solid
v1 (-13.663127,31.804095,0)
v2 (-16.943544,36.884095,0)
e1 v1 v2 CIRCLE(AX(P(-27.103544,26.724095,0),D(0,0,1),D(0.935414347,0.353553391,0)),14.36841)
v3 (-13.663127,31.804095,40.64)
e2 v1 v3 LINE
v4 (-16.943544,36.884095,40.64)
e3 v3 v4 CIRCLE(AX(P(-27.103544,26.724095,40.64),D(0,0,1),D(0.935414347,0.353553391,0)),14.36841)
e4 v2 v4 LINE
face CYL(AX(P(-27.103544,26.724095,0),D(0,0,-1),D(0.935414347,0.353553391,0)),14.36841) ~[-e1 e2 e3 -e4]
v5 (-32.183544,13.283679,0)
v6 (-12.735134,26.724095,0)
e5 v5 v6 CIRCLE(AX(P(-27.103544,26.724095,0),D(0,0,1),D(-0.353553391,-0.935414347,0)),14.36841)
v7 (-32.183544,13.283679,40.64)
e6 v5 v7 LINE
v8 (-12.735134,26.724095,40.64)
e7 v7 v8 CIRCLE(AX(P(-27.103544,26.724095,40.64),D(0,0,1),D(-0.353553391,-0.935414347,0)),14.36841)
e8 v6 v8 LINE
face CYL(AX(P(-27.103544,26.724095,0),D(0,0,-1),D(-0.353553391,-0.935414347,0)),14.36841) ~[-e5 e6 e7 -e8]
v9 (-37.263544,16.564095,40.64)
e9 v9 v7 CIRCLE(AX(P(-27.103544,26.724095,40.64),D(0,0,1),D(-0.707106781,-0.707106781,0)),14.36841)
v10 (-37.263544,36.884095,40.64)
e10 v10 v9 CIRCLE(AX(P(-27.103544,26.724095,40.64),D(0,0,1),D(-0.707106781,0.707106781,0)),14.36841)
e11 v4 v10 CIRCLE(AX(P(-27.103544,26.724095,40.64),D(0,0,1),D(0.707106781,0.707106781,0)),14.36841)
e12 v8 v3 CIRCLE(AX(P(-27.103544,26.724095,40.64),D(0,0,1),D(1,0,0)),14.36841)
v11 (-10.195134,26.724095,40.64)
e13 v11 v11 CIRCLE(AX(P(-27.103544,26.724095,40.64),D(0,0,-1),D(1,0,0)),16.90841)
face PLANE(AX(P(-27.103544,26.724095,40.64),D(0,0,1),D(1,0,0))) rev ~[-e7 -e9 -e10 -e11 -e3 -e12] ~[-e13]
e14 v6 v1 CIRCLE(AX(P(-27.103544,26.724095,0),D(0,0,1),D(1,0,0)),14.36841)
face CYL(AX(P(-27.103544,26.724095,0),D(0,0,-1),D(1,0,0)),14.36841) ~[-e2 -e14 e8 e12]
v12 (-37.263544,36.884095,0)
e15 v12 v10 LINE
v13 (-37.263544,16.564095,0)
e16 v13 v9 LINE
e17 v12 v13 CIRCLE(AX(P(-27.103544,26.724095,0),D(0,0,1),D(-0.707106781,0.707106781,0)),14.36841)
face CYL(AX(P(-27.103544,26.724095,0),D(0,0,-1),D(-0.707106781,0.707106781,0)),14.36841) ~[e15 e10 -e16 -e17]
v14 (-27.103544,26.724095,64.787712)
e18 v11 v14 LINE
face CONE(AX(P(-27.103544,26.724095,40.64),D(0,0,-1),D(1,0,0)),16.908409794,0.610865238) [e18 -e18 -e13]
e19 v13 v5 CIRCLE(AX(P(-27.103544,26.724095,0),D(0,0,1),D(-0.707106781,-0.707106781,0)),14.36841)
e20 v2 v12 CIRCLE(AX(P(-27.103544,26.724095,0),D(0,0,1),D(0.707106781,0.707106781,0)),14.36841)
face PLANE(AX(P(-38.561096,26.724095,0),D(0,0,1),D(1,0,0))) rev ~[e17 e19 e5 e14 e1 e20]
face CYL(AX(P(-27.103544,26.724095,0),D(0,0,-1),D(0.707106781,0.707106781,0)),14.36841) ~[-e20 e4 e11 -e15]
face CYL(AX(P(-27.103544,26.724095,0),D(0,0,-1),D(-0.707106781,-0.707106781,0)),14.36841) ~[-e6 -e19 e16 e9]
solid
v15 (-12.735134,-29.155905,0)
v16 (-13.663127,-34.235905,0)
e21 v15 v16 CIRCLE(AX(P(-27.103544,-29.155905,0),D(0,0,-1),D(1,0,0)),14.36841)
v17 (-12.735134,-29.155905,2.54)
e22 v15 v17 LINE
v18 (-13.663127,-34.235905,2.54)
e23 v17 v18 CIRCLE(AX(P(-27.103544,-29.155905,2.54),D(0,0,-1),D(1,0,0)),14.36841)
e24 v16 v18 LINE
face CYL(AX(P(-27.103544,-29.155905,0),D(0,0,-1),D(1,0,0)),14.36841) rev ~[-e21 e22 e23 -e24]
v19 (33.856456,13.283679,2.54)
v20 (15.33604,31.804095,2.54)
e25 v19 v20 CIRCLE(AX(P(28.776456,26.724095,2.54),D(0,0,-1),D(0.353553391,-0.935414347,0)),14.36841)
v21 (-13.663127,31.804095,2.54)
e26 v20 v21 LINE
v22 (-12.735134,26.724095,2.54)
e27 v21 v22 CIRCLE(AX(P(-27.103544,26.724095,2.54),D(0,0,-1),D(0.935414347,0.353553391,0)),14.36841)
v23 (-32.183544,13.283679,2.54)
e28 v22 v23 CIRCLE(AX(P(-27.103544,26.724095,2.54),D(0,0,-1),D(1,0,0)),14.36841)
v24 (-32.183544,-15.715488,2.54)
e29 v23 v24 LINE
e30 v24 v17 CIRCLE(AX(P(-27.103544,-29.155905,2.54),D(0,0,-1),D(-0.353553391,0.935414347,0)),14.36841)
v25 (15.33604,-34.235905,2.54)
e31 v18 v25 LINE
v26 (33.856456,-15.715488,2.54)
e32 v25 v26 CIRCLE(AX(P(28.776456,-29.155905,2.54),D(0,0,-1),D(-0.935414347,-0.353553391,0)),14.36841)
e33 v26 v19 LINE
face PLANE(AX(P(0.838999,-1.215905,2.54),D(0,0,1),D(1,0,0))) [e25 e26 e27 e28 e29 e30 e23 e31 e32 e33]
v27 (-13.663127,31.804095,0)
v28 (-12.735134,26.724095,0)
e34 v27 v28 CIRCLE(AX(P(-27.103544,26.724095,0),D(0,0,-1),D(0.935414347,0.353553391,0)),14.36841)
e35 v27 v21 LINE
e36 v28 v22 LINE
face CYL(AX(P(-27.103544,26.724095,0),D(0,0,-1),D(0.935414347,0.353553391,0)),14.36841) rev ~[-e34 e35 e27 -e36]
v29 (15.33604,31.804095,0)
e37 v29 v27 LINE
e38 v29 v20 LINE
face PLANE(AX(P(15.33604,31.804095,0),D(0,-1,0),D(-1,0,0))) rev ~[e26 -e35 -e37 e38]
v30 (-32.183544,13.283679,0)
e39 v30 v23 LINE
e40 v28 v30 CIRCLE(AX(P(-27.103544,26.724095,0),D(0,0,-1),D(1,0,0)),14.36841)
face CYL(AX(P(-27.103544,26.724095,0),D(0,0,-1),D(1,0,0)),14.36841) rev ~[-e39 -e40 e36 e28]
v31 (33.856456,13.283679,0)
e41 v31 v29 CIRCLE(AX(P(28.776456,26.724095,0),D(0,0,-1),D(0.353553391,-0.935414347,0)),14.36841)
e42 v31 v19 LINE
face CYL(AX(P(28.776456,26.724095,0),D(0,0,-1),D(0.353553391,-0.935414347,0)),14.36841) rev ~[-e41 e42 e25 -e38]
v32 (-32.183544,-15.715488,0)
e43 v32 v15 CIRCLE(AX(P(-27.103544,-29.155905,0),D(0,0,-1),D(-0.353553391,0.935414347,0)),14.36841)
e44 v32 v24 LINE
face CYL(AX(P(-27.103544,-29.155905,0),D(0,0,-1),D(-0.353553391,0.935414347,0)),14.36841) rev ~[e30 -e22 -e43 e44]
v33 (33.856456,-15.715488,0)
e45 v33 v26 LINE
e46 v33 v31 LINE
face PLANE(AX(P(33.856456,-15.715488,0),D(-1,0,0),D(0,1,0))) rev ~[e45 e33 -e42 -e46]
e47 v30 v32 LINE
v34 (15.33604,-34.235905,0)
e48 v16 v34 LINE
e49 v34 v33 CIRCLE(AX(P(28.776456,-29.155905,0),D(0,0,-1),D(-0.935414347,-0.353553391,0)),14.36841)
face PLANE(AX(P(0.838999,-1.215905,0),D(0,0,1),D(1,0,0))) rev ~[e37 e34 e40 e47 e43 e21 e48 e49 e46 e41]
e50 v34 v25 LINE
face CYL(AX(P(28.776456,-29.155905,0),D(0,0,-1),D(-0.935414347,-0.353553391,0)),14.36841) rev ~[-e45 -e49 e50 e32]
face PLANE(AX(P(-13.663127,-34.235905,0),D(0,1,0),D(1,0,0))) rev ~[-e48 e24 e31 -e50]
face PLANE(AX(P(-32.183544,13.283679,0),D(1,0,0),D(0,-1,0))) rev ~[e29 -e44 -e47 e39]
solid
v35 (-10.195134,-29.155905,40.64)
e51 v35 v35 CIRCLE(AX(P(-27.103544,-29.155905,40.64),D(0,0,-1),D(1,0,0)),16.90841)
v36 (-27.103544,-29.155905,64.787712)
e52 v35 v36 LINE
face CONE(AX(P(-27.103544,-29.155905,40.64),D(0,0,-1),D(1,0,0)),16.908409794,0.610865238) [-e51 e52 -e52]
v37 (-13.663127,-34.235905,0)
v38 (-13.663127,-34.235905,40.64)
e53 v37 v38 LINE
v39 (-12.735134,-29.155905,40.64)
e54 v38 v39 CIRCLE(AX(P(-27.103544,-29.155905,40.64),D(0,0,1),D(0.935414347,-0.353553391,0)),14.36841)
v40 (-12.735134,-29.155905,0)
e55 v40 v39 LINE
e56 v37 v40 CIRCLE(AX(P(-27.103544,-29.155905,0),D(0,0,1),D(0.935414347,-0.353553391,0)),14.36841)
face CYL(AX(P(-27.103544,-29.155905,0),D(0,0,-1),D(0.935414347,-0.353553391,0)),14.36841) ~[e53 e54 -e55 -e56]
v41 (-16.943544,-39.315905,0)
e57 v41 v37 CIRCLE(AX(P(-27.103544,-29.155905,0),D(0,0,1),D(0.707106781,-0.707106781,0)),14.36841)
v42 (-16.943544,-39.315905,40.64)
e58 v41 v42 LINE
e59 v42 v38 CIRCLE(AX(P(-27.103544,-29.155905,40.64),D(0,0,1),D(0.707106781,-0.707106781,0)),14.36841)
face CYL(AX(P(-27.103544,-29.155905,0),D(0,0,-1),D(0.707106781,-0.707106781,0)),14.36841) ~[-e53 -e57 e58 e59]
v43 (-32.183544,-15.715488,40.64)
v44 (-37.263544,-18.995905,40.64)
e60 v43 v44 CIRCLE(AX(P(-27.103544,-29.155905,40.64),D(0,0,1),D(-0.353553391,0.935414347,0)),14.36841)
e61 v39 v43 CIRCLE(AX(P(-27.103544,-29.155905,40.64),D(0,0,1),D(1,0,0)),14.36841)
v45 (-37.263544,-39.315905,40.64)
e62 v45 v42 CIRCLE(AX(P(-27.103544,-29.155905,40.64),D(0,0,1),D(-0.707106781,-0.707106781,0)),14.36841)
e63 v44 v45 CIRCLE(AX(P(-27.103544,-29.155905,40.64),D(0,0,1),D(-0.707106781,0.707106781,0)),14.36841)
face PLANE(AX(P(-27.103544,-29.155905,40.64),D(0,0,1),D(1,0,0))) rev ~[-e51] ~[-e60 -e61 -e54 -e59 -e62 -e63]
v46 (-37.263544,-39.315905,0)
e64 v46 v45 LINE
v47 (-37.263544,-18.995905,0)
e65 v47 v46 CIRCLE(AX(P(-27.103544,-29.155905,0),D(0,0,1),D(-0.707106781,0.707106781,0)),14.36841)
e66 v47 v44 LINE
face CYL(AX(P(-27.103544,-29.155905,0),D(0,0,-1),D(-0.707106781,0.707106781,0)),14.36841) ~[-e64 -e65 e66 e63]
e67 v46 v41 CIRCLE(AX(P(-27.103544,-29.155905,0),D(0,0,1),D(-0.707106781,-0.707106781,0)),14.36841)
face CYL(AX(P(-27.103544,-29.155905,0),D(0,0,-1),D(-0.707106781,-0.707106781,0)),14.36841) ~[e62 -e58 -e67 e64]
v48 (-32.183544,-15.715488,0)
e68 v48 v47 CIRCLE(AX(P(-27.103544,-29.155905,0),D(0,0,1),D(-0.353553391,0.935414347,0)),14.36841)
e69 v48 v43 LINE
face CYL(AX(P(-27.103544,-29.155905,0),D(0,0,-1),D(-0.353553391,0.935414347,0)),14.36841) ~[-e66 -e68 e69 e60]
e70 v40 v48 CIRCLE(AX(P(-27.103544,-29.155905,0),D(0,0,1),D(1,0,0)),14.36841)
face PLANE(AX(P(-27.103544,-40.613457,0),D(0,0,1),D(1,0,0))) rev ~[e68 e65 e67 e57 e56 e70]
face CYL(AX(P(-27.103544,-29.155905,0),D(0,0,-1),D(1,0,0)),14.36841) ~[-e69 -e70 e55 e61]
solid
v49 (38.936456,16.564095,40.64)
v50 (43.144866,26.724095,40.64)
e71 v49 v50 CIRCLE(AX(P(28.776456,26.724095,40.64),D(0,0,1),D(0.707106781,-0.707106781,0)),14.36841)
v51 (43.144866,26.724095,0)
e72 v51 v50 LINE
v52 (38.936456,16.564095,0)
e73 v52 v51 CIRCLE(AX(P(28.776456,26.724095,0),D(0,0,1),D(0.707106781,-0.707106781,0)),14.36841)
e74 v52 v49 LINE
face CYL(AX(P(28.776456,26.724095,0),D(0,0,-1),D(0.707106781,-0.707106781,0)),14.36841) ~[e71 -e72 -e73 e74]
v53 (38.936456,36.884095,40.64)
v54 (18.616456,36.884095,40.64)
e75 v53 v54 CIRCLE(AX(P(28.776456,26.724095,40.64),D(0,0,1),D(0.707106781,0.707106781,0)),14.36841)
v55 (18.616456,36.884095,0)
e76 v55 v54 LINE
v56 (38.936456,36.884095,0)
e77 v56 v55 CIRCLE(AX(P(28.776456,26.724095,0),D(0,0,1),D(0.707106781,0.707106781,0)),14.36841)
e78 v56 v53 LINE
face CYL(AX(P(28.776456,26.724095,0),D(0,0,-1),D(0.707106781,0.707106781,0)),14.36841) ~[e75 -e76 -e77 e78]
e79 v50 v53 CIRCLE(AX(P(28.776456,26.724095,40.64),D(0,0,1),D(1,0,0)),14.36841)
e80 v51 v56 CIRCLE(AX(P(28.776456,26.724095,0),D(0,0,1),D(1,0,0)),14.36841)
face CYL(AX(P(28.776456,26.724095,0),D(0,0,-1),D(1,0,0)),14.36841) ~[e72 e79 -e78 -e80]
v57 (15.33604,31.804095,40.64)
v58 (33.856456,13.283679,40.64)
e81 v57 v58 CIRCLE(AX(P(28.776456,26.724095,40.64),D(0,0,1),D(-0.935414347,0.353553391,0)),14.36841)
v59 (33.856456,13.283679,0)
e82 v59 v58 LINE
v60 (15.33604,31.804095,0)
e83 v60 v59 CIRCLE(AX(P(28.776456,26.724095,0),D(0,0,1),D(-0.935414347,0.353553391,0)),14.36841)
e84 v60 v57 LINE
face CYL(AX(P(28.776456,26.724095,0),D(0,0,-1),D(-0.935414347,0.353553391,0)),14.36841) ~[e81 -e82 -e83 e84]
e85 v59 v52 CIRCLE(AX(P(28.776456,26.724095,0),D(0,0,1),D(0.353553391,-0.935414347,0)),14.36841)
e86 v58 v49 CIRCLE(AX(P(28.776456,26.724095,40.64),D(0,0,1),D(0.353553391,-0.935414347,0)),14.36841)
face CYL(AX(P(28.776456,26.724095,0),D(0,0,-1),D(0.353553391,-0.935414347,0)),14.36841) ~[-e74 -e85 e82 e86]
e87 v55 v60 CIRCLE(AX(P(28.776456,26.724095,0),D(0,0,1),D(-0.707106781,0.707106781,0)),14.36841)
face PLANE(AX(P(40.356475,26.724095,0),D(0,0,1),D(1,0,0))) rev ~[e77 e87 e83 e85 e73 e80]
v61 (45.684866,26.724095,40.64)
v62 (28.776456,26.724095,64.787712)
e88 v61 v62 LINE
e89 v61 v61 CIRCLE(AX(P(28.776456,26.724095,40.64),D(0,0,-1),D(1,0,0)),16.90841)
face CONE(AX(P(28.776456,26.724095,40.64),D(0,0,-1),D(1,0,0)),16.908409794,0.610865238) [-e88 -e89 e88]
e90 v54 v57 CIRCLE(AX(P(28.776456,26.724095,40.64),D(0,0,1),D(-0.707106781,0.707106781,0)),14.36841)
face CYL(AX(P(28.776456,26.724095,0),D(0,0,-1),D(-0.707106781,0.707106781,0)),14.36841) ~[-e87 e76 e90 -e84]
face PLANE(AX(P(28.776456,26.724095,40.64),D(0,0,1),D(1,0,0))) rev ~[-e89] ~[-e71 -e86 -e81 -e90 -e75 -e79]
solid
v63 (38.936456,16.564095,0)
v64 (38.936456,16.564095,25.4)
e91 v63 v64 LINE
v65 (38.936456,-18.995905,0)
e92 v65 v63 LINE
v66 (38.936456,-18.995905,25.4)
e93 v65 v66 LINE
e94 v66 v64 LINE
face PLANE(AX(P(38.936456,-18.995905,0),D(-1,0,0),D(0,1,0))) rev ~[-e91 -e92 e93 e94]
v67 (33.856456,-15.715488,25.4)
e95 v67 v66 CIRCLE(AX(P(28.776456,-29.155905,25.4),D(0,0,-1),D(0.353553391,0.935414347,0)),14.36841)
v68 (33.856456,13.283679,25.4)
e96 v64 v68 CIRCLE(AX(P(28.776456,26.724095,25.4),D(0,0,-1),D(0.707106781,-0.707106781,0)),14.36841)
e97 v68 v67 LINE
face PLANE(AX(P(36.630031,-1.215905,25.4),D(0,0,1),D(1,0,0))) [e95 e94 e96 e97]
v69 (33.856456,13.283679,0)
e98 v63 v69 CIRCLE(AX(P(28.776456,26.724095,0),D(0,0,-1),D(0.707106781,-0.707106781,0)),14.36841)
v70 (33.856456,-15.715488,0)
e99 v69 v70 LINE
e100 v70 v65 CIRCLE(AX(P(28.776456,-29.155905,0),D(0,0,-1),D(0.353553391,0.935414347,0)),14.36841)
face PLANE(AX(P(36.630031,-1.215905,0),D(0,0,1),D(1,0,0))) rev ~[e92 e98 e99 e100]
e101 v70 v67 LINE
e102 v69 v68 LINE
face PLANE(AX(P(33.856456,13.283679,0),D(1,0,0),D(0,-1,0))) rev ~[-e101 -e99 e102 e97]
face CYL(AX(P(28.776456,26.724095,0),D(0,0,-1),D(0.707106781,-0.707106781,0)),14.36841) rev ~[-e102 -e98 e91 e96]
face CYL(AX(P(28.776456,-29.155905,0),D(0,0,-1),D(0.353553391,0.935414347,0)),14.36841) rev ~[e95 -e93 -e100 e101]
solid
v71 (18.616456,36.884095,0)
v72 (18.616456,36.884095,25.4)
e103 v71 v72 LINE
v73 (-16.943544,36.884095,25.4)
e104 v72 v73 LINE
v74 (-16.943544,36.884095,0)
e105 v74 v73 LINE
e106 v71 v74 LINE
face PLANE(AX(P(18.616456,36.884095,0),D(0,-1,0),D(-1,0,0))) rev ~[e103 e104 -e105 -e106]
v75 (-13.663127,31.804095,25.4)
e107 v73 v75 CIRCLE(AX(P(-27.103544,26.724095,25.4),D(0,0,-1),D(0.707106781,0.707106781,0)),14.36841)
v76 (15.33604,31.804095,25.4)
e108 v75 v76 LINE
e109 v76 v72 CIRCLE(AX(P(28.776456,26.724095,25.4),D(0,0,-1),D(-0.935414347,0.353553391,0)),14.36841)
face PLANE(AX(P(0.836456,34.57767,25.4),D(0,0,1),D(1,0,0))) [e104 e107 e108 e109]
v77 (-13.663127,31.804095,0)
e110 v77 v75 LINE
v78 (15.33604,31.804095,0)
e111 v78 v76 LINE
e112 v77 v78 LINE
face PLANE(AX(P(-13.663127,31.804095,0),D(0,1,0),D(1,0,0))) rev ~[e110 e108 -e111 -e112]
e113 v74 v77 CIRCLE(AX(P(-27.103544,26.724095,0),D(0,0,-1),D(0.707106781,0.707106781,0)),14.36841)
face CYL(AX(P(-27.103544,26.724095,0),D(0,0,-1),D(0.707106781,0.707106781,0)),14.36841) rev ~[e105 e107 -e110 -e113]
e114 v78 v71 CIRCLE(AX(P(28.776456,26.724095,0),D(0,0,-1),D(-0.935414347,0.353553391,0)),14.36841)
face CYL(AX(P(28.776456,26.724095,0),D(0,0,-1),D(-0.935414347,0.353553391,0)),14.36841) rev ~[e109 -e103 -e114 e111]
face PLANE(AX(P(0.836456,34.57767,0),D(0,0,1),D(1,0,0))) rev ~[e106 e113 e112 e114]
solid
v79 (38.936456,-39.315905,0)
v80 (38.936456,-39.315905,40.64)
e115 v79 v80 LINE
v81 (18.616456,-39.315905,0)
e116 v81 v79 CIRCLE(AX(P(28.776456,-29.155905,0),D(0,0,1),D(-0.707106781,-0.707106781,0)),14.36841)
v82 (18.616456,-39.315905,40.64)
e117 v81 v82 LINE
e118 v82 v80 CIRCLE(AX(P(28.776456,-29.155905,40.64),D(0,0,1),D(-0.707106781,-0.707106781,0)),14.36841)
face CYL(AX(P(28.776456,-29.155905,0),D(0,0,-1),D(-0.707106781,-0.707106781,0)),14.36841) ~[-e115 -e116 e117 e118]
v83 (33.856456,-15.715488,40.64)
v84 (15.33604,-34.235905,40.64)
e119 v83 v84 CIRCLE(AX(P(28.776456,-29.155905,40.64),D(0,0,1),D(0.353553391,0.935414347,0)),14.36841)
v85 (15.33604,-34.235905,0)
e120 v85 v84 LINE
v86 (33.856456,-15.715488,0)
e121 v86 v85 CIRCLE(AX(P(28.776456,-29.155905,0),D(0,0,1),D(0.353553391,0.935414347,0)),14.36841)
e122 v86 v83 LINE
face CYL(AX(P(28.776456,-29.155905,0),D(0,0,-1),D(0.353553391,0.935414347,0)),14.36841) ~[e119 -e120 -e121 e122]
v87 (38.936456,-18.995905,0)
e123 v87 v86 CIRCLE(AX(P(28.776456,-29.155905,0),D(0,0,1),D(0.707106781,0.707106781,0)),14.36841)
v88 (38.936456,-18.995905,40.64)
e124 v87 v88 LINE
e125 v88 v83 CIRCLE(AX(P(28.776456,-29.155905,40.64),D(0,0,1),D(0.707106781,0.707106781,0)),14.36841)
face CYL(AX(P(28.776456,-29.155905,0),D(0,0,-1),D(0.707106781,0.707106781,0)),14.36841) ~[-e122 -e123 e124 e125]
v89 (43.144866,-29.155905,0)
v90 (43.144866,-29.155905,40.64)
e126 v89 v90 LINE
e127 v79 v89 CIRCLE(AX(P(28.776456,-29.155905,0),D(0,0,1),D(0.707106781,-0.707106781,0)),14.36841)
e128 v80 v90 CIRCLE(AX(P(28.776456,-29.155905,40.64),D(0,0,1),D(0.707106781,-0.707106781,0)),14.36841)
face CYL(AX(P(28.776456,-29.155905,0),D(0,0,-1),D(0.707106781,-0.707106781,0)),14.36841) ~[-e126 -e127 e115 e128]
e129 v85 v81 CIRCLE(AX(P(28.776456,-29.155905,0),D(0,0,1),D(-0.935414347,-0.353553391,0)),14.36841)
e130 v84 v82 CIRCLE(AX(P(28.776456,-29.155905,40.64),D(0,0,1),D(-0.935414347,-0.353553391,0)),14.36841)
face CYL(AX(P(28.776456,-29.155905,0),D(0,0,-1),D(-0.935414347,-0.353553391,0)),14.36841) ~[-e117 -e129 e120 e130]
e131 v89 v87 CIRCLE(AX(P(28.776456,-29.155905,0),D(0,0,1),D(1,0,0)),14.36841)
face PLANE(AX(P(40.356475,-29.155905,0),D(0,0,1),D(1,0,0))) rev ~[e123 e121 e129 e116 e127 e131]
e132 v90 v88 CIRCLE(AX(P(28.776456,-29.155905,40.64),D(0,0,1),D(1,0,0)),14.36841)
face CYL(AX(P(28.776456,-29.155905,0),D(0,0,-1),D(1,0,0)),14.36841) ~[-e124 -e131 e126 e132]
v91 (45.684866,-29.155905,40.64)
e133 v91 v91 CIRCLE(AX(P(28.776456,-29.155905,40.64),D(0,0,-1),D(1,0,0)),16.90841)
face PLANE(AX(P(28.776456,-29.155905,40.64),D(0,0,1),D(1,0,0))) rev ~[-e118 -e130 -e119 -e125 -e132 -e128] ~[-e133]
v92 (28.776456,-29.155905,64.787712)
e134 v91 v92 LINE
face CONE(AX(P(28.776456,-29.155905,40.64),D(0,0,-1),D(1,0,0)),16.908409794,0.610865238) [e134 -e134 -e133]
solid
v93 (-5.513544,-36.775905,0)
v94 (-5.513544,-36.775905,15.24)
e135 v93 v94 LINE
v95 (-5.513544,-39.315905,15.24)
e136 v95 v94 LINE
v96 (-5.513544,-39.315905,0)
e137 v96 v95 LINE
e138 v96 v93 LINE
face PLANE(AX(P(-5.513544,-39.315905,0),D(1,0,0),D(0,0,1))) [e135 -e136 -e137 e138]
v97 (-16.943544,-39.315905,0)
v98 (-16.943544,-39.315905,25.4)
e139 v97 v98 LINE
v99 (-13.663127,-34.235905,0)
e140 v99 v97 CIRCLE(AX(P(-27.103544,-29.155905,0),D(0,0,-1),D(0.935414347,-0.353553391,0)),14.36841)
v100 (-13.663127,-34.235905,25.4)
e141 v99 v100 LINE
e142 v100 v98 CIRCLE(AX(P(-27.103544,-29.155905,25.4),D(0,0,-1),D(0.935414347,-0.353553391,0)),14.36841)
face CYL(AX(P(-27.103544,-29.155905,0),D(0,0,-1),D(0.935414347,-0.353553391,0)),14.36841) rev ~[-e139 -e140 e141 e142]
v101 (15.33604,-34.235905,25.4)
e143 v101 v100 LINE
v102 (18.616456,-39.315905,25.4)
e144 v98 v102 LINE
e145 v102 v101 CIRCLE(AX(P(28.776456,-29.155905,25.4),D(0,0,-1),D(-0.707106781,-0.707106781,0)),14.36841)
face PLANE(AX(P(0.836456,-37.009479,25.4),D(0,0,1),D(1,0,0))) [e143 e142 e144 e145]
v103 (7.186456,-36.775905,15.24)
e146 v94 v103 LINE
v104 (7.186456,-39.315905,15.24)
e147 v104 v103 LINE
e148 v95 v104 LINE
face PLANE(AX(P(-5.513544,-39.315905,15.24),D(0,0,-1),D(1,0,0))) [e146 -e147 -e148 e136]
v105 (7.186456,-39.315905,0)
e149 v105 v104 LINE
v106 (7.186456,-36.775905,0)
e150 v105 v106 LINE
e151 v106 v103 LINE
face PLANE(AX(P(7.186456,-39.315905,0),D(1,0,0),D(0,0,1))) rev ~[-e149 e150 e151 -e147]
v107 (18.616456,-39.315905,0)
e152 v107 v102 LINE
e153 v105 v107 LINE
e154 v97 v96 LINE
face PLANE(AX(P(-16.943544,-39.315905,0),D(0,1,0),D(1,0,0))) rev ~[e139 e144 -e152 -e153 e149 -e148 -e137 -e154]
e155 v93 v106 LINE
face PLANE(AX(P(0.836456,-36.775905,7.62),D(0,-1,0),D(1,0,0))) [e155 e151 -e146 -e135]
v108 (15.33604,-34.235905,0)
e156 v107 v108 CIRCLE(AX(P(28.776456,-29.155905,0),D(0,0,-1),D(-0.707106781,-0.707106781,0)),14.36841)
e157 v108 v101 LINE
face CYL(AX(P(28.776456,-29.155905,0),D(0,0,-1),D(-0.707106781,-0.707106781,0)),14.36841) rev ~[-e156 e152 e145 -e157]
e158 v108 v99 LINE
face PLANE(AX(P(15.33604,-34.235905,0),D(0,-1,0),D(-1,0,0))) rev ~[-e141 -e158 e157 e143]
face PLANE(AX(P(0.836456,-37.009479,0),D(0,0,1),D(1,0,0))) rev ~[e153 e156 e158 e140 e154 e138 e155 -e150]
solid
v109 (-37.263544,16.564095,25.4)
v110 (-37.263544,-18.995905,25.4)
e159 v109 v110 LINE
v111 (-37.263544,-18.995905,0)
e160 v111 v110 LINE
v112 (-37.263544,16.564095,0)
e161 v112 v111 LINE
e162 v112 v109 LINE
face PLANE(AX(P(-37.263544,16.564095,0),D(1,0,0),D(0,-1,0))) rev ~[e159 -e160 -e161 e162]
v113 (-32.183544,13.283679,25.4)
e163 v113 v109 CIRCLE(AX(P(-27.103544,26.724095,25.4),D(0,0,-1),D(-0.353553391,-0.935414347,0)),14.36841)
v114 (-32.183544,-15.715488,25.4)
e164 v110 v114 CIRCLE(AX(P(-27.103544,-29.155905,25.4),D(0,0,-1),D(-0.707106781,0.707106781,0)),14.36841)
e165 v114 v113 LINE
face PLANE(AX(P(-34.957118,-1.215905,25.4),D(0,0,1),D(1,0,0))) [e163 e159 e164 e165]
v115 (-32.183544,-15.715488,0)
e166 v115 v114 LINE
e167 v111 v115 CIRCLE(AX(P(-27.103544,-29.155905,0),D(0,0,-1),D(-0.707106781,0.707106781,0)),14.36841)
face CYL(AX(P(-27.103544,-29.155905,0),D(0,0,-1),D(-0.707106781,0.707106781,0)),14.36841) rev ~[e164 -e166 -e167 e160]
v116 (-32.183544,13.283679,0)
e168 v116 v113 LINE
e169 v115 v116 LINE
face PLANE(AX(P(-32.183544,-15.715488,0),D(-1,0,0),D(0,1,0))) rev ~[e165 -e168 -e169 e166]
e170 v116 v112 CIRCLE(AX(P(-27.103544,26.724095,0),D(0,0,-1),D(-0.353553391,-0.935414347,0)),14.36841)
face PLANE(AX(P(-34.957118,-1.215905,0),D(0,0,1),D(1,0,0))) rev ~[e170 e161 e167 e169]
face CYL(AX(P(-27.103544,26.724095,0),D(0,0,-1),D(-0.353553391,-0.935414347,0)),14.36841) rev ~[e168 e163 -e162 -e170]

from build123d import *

# Parameters (mm, degrees)
F1_DEPTH  = 2.54
F2_DEPTH  = 25.4
F3_DEPTH  = 40.64
F4_R      = 16.9084097937
F5_DEPTH  = 25.4
F5_TAPER  = 35
F6_R      = 16.9084097937
F7_DEPTH  = 25.4
F7_TAPER  = 35
F8_R      = 16.9084097937
F9_DEPTH  = 25.4
F9_TAPER  = 35
F10_R     = 16.9084097937
F11_DEPTH = 25.4
F11_TAPER = 35
F12_W     = 12.7
F12_H     = 15.24
F13_DEPTH = 2.54


with BuildPart() as f1:
    # F0 (on Top) → F1 (new body)
    with BuildSketch(Plane.XY):
        with BuildLine():
            Line((15.3360397668, 31.8040953928), (-13.6631269128, 31.8040953928))
            ThreePointArc((-13.6631269128, 31.8040953928), (-12.969035899, 29.3061280832), (-12.7351337793, 26.7240953928))
            ThreePointArc((-12.7351337793, 26.7240953928), (-18.9347101726, 14.9037163432), (-32.183543573, 13.2836787326))
            Line((-32.183543573, 13.2836787326), (-32.183543573, -15.715487947))
            ThreePointArc((-32.183543573, -15.715487947), (-18.9347101726, -17.3355255576), (-12.7351337793, -29.1559046072))
            ThreePointArc((-12.7351337793, -29.1559046072), (-12.969035899, -31.7379372975), (-13.6631269128, -34.2359046072))
            Line((-13.6631269128, -34.2359046072), (15.3360397668, -34.2359046072))
            ThreePointArc((15.3360397668, -34.2359046072), (18.616456427, -18.9959046072), (33.856456427, -15.715487947))
            Line((33.856456427, -15.715487947), (33.856456427, 13.2836787326))
            ThreePointArc((33.856456427, 13.2836787326), (18.616456427, 16.5640953928), (15.3360397668, 31.8040953928))
        make_face()
    extrude(amount=F1_DEPTH)


with BuildPart() as f2:
    # F0 (on Top) → F2 (new body)
    with BuildSketch(Plane.XY):
        with BuildLine():
            Line((38.936456427, -18.9959046072), (38.936456427, 16.5640953928))
            ThreePointArc((38.936456427, 16.5640953928), (36.5709854933, 14.6536141831), (33.856456427, 13.2836787326))
            Line((33.856456427, 13.2836787326), (33.856456427, -15.715487947))
            ThreePointArc((33.856456427, -15.715487947), (36.5709854933, -17.0854233975), (38.936456427, -18.9959046072))
        make_face()
    extrude(amount=F2_DEPTH)


with BuildPart() as f2b:
    # F0 (on Top) → F2, piece 2 (new body)
    with BuildSketch(Plane.XY):
        with BuildLine():
            ThreePointArc((-13.6631269128, -34.2359046072), (-15.0330623633, -36.9504336735), (-16.943543573, -39.3159046072))
            Line((-16.943543573, -39.3159046072), (18.616456427, -39.3159046072))
            ThreePointArc((18.616456427, -39.3159046072), (16.7059752173, -36.9504336735), (15.3360397668, -34.2359046072))
            Line((15.3360397668, -34.2359046072), (-13.6631269128, -34.2359046072))
        make_face()
    extrude(amount=F2_DEPTH)

    # F12 (on face) → F13 (cut)
    with BuildSketch(Plane.XZ.offset(39.3159046072)):
        with Locations((0.836456427, 7.62)):
            Rectangle(F12_W, F12_H)
    extrude(amount=-F13_DEPTH, mode=Mode.SUBTRACT)


with BuildPart() as f2c:
    # F0 (on Top) → F2, piece 3 (new body)
    with BuildSketch(Plane.XY):
        with BuildLine():
            ThreePointArc((-32.183543573, 13.2836787326), (-34.8980726394, 14.6536141831), (-37.263543573, 16.5640953928))
            Line((-37.263543573, 16.5640953928), (-37.263543573, -18.9959046072))
            ThreePointArc((-37.263543573, -18.9959046072), (-34.8980726394, -17.0854233975), (-32.183543573, -15.715487947))
            Line((-32.183543573, -15.715487947), (-32.183543573, 13.2836787326))
        make_face()
    extrude(amount=F2_DEPTH)


with BuildPart() as f2d:
    # F0 (on Top) → F2, piece 4 (new body)
    with BuildSketch(Plane.XY):
        with BuildLine():
            Line((18.616456427, 36.8840953928), (-16.943543573, 36.8840953928))
            ThreePointArc((-16.943543573, 36.8840953928), (-15.0330623633, 34.5186244592), (-13.6631269128, 31.8040953928))
            Line((-13.6631269128, 31.8040953928), (15.3360397668, 31.8040953928))
            ThreePointArc((15.3360397668, 31.8040953928), (16.7059752173, 34.5186244592), (18.616456427, 36.8840953928))
        make_face()
    extrude(amount=F2_DEPTH)


with BuildPart() as f3:
    # F0 (on Top) → F3 (new body)
    with BuildSketch(Plane.XY):
        with BuildLine():
            ThreePointArc((43.1448662207, 26.7240953928), (42.0511361501, 32.2226477703), (38.936456427, 36.8840953928))
            Line((38.936456427, 36.8840953928), (38.936456427, 16.5640953928))
            ThreePointArc((38.936456427, 16.5640953928), (42.0511361501, 21.2255430153), (43.1448662207, 26.7240953928))
        make_face()
        with BuildLine():
            Line((38.936456427, 36.8840953928), (18.616456427, 36.8840953928))
            ThreePointArc((18.616456427, 36.8840953928), (16.7059752173, 34.5186244592), (15.3360397668, 31.8040953928))
            ThreePointArc((15.3360397668, 31.8040953928), (18.616456427, 16.5640953928), (33.856456427, 13.2836787326))
            ThreePointArc((33.856456427, 13.2836787326), (36.5709854933, 14.6536141831), (38.936456427, 16.5640953928))
            Line((38.936456427, 16.5640953928), (38.936456427, 36.8840953928))
        make_face()
        with BuildLine():
            ThreePointArc((38.936456427, 36.8840953928), (28.776456427, 41.0925051865), (18.616456427, 36.8840953928))
            Line((18.616456427, 36.8840953928), (38.936456427, 36.8840953928))
        make_face()
    extrude(amount=F3_DEPTH)

    # F8 (on face) → F9 (join)
    with BuildSketch(Plane.XY.offset(40.64)):
        with Locations((28.776456427, 26.7240953928)):
            Circle(F8_R)
    extrude(amount=F9_DEPTH, taper=F9_TAPER)


with BuildPart() as f3b:
    # F0 (on Top) → F3, piece 2 (new body)
    with BuildSketch(Plane.XY):
        with BuildLine():
            ThreePointArc((43.1448662207, -29.1559046072), (42.0511361501, -23.6573522297), (38.936456427, -18.9959046072))
            Line((38.936456427, -18.9959046072), (38.936456427, -39.3159046072))
            ThreePointArc((38.936456427, -39.3159046072), (42.0511361501, -34.6544569847), (43.1448662207, -29.1559046072))
        make_face()
        with BuildLine():
            Line((38.936456427, -39.3159046072), (18.616456427, -39.3159046072))
            ThreePointArc((18.616456427, -39.3159046072), (28.776456427, -43.5243144009), (38.936456427, -39.3159046072))
        make_face()
        with BuildLine():
            Line((38.936456427, -39.3159046072), (38.936456427, -18.9959046072))
            ThreePointArc((38.936456427, -18.9959046072), (36.5709854933, -17.0854233975), (33.856456427, -15.715487947))
            ThreePointArc((33.856456427, -15.715487947), (18.616456427, -18.9959046072), (15.3360397668, -34.2359046072))
            ThreePointArc((15.3360397668, -34.2359046072), (16.7059752173, -36.9504336735), (18.616456427, -39.3159046072))
            Line((18.616456427, -39.3159046072), (38.936456427, -39.3159046072))
        make_face()
    extrude(amount=F3_DEPTH)

    # F10 (on face) → F11 (join)
    with BuildSketch(Plane.XY.offset(40.64)):
        with Locations((28.776456427, -29.1559046072)):
            Circle(F10_R)
    extrude(amount=F11_DEPTH, taper=F11_TAPER)


with BuildPart() as f3c:
    # F0 (on Top) → F3, piece 3 (new body)
    with BuildSketch(Plane.XY):
        with BuildLine():
            Line((-16.943543573, -39.3159046072), (-37.263543573, -39.3159046072))
            ThreePointArc((-37.263543573, -39.3159046072), (-27.103543573, -43.5243144009), (-16.943543573, -39.3159046072))
        make_face()
        with BuildLine():
            ThreePointArc((-32.183543573, -15.715487947), (-34.8980726394, -17.0854233975), (-37.263543573, -18.9959046072))
            Line((-37.263543573, -18.9959046072), (-37.263543573, -39.3159046072))
            Line((-37.263543573, -39.3159046072), (-16.943543573, -39.3159046072))
            ThreePointArc((-16.943543573, -39.3159046072), (-15.0330623633, -36.9504336735), (-13.6631269128, -34.2359046072))
            ThreePointArc((-13.6631269128, -34.2359046072), (-12.969035899, -31.7379372975), (-12.7351337793, -29.1559046072))
            ThreePointArc((-12.7351337793, -29.1559046072), (-18.9347101726, -17.3355255576), (-32.183543573, -15.715487947))
        make_face()
        with BuildLine():
            Line((-37.263543573, -39.3159046072), (-37.263543573, -18.9959046072))
            ThreePointArc((-37.263543573, -18.9959046072), (-41.4719533667, -29.1559046072), (-37.263543573, -39.3159046072))
        make_face()
    extrude(amount=F3_DEPTH)

    # F4 (on face) → F5 (join)
    with BuildSketch(Plane.XY.offset(40.64)):
        with Locations((-27.103543573, -29.1559046072)):
            Circle(F4_R)
    extrude(amount=F5_DEPTH, taper=F5_TAPER)


with BuildPart() as f3d:
    # F0 (on Top) → F3, piece 4 (new body)
    with BuildSketch(Plane.XY):
        with BuildLine():
            Line((-37.263543573, 16.5640953928), (-37.263543573, 36.8840953928))
            ThreePointArc((-37.263543573, 36.8840953928), (-41.4719533667, 26.7240953928), (-37.263543573, 16.5640953928))
        make_face()
        with BuildLine():
            Line((-16.943543573, 36.8840953928), (-37.263543573, 36.8840953928))
            Line((-37.263543573, 36.8840953928), (-37.263543573, 16.5640953928))
            ThreePointArc((-37.263543573, 16.5640953928), (-34.8980726394, 14.6536141831), (-32.183543573, 13.2836787326))
            ThreePointArc((-32.183543573, 13.2836787326), (-18.9347101726, 14.9037163432), (-12.7351337793, 26.7240953928))
            ThreePointArc((-12.7351337793, 26.7240953928), (-12.969035899, 29.3061280832), (-13.6631269128, 31.8040953928))
            ThreePointArc((-13.6631269128, 31.8040953928), (-15.0330623633, 34.5186244592), (-16.943543573, 36.8840953928))
        make_face()
        with BuildLine():
            ThreePointArc((-16.943543573, 36.8840953928), (-27.103543573, 41.0925051865), (-37.263543573, 36.8840953928))
            Line((-37.263543573, 36.8840953928), (-16.943543573, 36.8840953928))
        make_face()
    extrude(amount=F3_DEPTH)

    # F6 (on face) → F7 (join)
    with BuildSketch(Plane.XY.offset(40.64)):
        with Locations((-27.103543573, 26.7240953928)):
            Circle(F6_R)
    extrude(amount=F7_DEPTH, taper=F7_TAPER)


solid = Compound([f1.part, f2.part, f2b.part, f2c.part, f2d.part, f3.part, f3b.part, f3c.part, f3d.part])
